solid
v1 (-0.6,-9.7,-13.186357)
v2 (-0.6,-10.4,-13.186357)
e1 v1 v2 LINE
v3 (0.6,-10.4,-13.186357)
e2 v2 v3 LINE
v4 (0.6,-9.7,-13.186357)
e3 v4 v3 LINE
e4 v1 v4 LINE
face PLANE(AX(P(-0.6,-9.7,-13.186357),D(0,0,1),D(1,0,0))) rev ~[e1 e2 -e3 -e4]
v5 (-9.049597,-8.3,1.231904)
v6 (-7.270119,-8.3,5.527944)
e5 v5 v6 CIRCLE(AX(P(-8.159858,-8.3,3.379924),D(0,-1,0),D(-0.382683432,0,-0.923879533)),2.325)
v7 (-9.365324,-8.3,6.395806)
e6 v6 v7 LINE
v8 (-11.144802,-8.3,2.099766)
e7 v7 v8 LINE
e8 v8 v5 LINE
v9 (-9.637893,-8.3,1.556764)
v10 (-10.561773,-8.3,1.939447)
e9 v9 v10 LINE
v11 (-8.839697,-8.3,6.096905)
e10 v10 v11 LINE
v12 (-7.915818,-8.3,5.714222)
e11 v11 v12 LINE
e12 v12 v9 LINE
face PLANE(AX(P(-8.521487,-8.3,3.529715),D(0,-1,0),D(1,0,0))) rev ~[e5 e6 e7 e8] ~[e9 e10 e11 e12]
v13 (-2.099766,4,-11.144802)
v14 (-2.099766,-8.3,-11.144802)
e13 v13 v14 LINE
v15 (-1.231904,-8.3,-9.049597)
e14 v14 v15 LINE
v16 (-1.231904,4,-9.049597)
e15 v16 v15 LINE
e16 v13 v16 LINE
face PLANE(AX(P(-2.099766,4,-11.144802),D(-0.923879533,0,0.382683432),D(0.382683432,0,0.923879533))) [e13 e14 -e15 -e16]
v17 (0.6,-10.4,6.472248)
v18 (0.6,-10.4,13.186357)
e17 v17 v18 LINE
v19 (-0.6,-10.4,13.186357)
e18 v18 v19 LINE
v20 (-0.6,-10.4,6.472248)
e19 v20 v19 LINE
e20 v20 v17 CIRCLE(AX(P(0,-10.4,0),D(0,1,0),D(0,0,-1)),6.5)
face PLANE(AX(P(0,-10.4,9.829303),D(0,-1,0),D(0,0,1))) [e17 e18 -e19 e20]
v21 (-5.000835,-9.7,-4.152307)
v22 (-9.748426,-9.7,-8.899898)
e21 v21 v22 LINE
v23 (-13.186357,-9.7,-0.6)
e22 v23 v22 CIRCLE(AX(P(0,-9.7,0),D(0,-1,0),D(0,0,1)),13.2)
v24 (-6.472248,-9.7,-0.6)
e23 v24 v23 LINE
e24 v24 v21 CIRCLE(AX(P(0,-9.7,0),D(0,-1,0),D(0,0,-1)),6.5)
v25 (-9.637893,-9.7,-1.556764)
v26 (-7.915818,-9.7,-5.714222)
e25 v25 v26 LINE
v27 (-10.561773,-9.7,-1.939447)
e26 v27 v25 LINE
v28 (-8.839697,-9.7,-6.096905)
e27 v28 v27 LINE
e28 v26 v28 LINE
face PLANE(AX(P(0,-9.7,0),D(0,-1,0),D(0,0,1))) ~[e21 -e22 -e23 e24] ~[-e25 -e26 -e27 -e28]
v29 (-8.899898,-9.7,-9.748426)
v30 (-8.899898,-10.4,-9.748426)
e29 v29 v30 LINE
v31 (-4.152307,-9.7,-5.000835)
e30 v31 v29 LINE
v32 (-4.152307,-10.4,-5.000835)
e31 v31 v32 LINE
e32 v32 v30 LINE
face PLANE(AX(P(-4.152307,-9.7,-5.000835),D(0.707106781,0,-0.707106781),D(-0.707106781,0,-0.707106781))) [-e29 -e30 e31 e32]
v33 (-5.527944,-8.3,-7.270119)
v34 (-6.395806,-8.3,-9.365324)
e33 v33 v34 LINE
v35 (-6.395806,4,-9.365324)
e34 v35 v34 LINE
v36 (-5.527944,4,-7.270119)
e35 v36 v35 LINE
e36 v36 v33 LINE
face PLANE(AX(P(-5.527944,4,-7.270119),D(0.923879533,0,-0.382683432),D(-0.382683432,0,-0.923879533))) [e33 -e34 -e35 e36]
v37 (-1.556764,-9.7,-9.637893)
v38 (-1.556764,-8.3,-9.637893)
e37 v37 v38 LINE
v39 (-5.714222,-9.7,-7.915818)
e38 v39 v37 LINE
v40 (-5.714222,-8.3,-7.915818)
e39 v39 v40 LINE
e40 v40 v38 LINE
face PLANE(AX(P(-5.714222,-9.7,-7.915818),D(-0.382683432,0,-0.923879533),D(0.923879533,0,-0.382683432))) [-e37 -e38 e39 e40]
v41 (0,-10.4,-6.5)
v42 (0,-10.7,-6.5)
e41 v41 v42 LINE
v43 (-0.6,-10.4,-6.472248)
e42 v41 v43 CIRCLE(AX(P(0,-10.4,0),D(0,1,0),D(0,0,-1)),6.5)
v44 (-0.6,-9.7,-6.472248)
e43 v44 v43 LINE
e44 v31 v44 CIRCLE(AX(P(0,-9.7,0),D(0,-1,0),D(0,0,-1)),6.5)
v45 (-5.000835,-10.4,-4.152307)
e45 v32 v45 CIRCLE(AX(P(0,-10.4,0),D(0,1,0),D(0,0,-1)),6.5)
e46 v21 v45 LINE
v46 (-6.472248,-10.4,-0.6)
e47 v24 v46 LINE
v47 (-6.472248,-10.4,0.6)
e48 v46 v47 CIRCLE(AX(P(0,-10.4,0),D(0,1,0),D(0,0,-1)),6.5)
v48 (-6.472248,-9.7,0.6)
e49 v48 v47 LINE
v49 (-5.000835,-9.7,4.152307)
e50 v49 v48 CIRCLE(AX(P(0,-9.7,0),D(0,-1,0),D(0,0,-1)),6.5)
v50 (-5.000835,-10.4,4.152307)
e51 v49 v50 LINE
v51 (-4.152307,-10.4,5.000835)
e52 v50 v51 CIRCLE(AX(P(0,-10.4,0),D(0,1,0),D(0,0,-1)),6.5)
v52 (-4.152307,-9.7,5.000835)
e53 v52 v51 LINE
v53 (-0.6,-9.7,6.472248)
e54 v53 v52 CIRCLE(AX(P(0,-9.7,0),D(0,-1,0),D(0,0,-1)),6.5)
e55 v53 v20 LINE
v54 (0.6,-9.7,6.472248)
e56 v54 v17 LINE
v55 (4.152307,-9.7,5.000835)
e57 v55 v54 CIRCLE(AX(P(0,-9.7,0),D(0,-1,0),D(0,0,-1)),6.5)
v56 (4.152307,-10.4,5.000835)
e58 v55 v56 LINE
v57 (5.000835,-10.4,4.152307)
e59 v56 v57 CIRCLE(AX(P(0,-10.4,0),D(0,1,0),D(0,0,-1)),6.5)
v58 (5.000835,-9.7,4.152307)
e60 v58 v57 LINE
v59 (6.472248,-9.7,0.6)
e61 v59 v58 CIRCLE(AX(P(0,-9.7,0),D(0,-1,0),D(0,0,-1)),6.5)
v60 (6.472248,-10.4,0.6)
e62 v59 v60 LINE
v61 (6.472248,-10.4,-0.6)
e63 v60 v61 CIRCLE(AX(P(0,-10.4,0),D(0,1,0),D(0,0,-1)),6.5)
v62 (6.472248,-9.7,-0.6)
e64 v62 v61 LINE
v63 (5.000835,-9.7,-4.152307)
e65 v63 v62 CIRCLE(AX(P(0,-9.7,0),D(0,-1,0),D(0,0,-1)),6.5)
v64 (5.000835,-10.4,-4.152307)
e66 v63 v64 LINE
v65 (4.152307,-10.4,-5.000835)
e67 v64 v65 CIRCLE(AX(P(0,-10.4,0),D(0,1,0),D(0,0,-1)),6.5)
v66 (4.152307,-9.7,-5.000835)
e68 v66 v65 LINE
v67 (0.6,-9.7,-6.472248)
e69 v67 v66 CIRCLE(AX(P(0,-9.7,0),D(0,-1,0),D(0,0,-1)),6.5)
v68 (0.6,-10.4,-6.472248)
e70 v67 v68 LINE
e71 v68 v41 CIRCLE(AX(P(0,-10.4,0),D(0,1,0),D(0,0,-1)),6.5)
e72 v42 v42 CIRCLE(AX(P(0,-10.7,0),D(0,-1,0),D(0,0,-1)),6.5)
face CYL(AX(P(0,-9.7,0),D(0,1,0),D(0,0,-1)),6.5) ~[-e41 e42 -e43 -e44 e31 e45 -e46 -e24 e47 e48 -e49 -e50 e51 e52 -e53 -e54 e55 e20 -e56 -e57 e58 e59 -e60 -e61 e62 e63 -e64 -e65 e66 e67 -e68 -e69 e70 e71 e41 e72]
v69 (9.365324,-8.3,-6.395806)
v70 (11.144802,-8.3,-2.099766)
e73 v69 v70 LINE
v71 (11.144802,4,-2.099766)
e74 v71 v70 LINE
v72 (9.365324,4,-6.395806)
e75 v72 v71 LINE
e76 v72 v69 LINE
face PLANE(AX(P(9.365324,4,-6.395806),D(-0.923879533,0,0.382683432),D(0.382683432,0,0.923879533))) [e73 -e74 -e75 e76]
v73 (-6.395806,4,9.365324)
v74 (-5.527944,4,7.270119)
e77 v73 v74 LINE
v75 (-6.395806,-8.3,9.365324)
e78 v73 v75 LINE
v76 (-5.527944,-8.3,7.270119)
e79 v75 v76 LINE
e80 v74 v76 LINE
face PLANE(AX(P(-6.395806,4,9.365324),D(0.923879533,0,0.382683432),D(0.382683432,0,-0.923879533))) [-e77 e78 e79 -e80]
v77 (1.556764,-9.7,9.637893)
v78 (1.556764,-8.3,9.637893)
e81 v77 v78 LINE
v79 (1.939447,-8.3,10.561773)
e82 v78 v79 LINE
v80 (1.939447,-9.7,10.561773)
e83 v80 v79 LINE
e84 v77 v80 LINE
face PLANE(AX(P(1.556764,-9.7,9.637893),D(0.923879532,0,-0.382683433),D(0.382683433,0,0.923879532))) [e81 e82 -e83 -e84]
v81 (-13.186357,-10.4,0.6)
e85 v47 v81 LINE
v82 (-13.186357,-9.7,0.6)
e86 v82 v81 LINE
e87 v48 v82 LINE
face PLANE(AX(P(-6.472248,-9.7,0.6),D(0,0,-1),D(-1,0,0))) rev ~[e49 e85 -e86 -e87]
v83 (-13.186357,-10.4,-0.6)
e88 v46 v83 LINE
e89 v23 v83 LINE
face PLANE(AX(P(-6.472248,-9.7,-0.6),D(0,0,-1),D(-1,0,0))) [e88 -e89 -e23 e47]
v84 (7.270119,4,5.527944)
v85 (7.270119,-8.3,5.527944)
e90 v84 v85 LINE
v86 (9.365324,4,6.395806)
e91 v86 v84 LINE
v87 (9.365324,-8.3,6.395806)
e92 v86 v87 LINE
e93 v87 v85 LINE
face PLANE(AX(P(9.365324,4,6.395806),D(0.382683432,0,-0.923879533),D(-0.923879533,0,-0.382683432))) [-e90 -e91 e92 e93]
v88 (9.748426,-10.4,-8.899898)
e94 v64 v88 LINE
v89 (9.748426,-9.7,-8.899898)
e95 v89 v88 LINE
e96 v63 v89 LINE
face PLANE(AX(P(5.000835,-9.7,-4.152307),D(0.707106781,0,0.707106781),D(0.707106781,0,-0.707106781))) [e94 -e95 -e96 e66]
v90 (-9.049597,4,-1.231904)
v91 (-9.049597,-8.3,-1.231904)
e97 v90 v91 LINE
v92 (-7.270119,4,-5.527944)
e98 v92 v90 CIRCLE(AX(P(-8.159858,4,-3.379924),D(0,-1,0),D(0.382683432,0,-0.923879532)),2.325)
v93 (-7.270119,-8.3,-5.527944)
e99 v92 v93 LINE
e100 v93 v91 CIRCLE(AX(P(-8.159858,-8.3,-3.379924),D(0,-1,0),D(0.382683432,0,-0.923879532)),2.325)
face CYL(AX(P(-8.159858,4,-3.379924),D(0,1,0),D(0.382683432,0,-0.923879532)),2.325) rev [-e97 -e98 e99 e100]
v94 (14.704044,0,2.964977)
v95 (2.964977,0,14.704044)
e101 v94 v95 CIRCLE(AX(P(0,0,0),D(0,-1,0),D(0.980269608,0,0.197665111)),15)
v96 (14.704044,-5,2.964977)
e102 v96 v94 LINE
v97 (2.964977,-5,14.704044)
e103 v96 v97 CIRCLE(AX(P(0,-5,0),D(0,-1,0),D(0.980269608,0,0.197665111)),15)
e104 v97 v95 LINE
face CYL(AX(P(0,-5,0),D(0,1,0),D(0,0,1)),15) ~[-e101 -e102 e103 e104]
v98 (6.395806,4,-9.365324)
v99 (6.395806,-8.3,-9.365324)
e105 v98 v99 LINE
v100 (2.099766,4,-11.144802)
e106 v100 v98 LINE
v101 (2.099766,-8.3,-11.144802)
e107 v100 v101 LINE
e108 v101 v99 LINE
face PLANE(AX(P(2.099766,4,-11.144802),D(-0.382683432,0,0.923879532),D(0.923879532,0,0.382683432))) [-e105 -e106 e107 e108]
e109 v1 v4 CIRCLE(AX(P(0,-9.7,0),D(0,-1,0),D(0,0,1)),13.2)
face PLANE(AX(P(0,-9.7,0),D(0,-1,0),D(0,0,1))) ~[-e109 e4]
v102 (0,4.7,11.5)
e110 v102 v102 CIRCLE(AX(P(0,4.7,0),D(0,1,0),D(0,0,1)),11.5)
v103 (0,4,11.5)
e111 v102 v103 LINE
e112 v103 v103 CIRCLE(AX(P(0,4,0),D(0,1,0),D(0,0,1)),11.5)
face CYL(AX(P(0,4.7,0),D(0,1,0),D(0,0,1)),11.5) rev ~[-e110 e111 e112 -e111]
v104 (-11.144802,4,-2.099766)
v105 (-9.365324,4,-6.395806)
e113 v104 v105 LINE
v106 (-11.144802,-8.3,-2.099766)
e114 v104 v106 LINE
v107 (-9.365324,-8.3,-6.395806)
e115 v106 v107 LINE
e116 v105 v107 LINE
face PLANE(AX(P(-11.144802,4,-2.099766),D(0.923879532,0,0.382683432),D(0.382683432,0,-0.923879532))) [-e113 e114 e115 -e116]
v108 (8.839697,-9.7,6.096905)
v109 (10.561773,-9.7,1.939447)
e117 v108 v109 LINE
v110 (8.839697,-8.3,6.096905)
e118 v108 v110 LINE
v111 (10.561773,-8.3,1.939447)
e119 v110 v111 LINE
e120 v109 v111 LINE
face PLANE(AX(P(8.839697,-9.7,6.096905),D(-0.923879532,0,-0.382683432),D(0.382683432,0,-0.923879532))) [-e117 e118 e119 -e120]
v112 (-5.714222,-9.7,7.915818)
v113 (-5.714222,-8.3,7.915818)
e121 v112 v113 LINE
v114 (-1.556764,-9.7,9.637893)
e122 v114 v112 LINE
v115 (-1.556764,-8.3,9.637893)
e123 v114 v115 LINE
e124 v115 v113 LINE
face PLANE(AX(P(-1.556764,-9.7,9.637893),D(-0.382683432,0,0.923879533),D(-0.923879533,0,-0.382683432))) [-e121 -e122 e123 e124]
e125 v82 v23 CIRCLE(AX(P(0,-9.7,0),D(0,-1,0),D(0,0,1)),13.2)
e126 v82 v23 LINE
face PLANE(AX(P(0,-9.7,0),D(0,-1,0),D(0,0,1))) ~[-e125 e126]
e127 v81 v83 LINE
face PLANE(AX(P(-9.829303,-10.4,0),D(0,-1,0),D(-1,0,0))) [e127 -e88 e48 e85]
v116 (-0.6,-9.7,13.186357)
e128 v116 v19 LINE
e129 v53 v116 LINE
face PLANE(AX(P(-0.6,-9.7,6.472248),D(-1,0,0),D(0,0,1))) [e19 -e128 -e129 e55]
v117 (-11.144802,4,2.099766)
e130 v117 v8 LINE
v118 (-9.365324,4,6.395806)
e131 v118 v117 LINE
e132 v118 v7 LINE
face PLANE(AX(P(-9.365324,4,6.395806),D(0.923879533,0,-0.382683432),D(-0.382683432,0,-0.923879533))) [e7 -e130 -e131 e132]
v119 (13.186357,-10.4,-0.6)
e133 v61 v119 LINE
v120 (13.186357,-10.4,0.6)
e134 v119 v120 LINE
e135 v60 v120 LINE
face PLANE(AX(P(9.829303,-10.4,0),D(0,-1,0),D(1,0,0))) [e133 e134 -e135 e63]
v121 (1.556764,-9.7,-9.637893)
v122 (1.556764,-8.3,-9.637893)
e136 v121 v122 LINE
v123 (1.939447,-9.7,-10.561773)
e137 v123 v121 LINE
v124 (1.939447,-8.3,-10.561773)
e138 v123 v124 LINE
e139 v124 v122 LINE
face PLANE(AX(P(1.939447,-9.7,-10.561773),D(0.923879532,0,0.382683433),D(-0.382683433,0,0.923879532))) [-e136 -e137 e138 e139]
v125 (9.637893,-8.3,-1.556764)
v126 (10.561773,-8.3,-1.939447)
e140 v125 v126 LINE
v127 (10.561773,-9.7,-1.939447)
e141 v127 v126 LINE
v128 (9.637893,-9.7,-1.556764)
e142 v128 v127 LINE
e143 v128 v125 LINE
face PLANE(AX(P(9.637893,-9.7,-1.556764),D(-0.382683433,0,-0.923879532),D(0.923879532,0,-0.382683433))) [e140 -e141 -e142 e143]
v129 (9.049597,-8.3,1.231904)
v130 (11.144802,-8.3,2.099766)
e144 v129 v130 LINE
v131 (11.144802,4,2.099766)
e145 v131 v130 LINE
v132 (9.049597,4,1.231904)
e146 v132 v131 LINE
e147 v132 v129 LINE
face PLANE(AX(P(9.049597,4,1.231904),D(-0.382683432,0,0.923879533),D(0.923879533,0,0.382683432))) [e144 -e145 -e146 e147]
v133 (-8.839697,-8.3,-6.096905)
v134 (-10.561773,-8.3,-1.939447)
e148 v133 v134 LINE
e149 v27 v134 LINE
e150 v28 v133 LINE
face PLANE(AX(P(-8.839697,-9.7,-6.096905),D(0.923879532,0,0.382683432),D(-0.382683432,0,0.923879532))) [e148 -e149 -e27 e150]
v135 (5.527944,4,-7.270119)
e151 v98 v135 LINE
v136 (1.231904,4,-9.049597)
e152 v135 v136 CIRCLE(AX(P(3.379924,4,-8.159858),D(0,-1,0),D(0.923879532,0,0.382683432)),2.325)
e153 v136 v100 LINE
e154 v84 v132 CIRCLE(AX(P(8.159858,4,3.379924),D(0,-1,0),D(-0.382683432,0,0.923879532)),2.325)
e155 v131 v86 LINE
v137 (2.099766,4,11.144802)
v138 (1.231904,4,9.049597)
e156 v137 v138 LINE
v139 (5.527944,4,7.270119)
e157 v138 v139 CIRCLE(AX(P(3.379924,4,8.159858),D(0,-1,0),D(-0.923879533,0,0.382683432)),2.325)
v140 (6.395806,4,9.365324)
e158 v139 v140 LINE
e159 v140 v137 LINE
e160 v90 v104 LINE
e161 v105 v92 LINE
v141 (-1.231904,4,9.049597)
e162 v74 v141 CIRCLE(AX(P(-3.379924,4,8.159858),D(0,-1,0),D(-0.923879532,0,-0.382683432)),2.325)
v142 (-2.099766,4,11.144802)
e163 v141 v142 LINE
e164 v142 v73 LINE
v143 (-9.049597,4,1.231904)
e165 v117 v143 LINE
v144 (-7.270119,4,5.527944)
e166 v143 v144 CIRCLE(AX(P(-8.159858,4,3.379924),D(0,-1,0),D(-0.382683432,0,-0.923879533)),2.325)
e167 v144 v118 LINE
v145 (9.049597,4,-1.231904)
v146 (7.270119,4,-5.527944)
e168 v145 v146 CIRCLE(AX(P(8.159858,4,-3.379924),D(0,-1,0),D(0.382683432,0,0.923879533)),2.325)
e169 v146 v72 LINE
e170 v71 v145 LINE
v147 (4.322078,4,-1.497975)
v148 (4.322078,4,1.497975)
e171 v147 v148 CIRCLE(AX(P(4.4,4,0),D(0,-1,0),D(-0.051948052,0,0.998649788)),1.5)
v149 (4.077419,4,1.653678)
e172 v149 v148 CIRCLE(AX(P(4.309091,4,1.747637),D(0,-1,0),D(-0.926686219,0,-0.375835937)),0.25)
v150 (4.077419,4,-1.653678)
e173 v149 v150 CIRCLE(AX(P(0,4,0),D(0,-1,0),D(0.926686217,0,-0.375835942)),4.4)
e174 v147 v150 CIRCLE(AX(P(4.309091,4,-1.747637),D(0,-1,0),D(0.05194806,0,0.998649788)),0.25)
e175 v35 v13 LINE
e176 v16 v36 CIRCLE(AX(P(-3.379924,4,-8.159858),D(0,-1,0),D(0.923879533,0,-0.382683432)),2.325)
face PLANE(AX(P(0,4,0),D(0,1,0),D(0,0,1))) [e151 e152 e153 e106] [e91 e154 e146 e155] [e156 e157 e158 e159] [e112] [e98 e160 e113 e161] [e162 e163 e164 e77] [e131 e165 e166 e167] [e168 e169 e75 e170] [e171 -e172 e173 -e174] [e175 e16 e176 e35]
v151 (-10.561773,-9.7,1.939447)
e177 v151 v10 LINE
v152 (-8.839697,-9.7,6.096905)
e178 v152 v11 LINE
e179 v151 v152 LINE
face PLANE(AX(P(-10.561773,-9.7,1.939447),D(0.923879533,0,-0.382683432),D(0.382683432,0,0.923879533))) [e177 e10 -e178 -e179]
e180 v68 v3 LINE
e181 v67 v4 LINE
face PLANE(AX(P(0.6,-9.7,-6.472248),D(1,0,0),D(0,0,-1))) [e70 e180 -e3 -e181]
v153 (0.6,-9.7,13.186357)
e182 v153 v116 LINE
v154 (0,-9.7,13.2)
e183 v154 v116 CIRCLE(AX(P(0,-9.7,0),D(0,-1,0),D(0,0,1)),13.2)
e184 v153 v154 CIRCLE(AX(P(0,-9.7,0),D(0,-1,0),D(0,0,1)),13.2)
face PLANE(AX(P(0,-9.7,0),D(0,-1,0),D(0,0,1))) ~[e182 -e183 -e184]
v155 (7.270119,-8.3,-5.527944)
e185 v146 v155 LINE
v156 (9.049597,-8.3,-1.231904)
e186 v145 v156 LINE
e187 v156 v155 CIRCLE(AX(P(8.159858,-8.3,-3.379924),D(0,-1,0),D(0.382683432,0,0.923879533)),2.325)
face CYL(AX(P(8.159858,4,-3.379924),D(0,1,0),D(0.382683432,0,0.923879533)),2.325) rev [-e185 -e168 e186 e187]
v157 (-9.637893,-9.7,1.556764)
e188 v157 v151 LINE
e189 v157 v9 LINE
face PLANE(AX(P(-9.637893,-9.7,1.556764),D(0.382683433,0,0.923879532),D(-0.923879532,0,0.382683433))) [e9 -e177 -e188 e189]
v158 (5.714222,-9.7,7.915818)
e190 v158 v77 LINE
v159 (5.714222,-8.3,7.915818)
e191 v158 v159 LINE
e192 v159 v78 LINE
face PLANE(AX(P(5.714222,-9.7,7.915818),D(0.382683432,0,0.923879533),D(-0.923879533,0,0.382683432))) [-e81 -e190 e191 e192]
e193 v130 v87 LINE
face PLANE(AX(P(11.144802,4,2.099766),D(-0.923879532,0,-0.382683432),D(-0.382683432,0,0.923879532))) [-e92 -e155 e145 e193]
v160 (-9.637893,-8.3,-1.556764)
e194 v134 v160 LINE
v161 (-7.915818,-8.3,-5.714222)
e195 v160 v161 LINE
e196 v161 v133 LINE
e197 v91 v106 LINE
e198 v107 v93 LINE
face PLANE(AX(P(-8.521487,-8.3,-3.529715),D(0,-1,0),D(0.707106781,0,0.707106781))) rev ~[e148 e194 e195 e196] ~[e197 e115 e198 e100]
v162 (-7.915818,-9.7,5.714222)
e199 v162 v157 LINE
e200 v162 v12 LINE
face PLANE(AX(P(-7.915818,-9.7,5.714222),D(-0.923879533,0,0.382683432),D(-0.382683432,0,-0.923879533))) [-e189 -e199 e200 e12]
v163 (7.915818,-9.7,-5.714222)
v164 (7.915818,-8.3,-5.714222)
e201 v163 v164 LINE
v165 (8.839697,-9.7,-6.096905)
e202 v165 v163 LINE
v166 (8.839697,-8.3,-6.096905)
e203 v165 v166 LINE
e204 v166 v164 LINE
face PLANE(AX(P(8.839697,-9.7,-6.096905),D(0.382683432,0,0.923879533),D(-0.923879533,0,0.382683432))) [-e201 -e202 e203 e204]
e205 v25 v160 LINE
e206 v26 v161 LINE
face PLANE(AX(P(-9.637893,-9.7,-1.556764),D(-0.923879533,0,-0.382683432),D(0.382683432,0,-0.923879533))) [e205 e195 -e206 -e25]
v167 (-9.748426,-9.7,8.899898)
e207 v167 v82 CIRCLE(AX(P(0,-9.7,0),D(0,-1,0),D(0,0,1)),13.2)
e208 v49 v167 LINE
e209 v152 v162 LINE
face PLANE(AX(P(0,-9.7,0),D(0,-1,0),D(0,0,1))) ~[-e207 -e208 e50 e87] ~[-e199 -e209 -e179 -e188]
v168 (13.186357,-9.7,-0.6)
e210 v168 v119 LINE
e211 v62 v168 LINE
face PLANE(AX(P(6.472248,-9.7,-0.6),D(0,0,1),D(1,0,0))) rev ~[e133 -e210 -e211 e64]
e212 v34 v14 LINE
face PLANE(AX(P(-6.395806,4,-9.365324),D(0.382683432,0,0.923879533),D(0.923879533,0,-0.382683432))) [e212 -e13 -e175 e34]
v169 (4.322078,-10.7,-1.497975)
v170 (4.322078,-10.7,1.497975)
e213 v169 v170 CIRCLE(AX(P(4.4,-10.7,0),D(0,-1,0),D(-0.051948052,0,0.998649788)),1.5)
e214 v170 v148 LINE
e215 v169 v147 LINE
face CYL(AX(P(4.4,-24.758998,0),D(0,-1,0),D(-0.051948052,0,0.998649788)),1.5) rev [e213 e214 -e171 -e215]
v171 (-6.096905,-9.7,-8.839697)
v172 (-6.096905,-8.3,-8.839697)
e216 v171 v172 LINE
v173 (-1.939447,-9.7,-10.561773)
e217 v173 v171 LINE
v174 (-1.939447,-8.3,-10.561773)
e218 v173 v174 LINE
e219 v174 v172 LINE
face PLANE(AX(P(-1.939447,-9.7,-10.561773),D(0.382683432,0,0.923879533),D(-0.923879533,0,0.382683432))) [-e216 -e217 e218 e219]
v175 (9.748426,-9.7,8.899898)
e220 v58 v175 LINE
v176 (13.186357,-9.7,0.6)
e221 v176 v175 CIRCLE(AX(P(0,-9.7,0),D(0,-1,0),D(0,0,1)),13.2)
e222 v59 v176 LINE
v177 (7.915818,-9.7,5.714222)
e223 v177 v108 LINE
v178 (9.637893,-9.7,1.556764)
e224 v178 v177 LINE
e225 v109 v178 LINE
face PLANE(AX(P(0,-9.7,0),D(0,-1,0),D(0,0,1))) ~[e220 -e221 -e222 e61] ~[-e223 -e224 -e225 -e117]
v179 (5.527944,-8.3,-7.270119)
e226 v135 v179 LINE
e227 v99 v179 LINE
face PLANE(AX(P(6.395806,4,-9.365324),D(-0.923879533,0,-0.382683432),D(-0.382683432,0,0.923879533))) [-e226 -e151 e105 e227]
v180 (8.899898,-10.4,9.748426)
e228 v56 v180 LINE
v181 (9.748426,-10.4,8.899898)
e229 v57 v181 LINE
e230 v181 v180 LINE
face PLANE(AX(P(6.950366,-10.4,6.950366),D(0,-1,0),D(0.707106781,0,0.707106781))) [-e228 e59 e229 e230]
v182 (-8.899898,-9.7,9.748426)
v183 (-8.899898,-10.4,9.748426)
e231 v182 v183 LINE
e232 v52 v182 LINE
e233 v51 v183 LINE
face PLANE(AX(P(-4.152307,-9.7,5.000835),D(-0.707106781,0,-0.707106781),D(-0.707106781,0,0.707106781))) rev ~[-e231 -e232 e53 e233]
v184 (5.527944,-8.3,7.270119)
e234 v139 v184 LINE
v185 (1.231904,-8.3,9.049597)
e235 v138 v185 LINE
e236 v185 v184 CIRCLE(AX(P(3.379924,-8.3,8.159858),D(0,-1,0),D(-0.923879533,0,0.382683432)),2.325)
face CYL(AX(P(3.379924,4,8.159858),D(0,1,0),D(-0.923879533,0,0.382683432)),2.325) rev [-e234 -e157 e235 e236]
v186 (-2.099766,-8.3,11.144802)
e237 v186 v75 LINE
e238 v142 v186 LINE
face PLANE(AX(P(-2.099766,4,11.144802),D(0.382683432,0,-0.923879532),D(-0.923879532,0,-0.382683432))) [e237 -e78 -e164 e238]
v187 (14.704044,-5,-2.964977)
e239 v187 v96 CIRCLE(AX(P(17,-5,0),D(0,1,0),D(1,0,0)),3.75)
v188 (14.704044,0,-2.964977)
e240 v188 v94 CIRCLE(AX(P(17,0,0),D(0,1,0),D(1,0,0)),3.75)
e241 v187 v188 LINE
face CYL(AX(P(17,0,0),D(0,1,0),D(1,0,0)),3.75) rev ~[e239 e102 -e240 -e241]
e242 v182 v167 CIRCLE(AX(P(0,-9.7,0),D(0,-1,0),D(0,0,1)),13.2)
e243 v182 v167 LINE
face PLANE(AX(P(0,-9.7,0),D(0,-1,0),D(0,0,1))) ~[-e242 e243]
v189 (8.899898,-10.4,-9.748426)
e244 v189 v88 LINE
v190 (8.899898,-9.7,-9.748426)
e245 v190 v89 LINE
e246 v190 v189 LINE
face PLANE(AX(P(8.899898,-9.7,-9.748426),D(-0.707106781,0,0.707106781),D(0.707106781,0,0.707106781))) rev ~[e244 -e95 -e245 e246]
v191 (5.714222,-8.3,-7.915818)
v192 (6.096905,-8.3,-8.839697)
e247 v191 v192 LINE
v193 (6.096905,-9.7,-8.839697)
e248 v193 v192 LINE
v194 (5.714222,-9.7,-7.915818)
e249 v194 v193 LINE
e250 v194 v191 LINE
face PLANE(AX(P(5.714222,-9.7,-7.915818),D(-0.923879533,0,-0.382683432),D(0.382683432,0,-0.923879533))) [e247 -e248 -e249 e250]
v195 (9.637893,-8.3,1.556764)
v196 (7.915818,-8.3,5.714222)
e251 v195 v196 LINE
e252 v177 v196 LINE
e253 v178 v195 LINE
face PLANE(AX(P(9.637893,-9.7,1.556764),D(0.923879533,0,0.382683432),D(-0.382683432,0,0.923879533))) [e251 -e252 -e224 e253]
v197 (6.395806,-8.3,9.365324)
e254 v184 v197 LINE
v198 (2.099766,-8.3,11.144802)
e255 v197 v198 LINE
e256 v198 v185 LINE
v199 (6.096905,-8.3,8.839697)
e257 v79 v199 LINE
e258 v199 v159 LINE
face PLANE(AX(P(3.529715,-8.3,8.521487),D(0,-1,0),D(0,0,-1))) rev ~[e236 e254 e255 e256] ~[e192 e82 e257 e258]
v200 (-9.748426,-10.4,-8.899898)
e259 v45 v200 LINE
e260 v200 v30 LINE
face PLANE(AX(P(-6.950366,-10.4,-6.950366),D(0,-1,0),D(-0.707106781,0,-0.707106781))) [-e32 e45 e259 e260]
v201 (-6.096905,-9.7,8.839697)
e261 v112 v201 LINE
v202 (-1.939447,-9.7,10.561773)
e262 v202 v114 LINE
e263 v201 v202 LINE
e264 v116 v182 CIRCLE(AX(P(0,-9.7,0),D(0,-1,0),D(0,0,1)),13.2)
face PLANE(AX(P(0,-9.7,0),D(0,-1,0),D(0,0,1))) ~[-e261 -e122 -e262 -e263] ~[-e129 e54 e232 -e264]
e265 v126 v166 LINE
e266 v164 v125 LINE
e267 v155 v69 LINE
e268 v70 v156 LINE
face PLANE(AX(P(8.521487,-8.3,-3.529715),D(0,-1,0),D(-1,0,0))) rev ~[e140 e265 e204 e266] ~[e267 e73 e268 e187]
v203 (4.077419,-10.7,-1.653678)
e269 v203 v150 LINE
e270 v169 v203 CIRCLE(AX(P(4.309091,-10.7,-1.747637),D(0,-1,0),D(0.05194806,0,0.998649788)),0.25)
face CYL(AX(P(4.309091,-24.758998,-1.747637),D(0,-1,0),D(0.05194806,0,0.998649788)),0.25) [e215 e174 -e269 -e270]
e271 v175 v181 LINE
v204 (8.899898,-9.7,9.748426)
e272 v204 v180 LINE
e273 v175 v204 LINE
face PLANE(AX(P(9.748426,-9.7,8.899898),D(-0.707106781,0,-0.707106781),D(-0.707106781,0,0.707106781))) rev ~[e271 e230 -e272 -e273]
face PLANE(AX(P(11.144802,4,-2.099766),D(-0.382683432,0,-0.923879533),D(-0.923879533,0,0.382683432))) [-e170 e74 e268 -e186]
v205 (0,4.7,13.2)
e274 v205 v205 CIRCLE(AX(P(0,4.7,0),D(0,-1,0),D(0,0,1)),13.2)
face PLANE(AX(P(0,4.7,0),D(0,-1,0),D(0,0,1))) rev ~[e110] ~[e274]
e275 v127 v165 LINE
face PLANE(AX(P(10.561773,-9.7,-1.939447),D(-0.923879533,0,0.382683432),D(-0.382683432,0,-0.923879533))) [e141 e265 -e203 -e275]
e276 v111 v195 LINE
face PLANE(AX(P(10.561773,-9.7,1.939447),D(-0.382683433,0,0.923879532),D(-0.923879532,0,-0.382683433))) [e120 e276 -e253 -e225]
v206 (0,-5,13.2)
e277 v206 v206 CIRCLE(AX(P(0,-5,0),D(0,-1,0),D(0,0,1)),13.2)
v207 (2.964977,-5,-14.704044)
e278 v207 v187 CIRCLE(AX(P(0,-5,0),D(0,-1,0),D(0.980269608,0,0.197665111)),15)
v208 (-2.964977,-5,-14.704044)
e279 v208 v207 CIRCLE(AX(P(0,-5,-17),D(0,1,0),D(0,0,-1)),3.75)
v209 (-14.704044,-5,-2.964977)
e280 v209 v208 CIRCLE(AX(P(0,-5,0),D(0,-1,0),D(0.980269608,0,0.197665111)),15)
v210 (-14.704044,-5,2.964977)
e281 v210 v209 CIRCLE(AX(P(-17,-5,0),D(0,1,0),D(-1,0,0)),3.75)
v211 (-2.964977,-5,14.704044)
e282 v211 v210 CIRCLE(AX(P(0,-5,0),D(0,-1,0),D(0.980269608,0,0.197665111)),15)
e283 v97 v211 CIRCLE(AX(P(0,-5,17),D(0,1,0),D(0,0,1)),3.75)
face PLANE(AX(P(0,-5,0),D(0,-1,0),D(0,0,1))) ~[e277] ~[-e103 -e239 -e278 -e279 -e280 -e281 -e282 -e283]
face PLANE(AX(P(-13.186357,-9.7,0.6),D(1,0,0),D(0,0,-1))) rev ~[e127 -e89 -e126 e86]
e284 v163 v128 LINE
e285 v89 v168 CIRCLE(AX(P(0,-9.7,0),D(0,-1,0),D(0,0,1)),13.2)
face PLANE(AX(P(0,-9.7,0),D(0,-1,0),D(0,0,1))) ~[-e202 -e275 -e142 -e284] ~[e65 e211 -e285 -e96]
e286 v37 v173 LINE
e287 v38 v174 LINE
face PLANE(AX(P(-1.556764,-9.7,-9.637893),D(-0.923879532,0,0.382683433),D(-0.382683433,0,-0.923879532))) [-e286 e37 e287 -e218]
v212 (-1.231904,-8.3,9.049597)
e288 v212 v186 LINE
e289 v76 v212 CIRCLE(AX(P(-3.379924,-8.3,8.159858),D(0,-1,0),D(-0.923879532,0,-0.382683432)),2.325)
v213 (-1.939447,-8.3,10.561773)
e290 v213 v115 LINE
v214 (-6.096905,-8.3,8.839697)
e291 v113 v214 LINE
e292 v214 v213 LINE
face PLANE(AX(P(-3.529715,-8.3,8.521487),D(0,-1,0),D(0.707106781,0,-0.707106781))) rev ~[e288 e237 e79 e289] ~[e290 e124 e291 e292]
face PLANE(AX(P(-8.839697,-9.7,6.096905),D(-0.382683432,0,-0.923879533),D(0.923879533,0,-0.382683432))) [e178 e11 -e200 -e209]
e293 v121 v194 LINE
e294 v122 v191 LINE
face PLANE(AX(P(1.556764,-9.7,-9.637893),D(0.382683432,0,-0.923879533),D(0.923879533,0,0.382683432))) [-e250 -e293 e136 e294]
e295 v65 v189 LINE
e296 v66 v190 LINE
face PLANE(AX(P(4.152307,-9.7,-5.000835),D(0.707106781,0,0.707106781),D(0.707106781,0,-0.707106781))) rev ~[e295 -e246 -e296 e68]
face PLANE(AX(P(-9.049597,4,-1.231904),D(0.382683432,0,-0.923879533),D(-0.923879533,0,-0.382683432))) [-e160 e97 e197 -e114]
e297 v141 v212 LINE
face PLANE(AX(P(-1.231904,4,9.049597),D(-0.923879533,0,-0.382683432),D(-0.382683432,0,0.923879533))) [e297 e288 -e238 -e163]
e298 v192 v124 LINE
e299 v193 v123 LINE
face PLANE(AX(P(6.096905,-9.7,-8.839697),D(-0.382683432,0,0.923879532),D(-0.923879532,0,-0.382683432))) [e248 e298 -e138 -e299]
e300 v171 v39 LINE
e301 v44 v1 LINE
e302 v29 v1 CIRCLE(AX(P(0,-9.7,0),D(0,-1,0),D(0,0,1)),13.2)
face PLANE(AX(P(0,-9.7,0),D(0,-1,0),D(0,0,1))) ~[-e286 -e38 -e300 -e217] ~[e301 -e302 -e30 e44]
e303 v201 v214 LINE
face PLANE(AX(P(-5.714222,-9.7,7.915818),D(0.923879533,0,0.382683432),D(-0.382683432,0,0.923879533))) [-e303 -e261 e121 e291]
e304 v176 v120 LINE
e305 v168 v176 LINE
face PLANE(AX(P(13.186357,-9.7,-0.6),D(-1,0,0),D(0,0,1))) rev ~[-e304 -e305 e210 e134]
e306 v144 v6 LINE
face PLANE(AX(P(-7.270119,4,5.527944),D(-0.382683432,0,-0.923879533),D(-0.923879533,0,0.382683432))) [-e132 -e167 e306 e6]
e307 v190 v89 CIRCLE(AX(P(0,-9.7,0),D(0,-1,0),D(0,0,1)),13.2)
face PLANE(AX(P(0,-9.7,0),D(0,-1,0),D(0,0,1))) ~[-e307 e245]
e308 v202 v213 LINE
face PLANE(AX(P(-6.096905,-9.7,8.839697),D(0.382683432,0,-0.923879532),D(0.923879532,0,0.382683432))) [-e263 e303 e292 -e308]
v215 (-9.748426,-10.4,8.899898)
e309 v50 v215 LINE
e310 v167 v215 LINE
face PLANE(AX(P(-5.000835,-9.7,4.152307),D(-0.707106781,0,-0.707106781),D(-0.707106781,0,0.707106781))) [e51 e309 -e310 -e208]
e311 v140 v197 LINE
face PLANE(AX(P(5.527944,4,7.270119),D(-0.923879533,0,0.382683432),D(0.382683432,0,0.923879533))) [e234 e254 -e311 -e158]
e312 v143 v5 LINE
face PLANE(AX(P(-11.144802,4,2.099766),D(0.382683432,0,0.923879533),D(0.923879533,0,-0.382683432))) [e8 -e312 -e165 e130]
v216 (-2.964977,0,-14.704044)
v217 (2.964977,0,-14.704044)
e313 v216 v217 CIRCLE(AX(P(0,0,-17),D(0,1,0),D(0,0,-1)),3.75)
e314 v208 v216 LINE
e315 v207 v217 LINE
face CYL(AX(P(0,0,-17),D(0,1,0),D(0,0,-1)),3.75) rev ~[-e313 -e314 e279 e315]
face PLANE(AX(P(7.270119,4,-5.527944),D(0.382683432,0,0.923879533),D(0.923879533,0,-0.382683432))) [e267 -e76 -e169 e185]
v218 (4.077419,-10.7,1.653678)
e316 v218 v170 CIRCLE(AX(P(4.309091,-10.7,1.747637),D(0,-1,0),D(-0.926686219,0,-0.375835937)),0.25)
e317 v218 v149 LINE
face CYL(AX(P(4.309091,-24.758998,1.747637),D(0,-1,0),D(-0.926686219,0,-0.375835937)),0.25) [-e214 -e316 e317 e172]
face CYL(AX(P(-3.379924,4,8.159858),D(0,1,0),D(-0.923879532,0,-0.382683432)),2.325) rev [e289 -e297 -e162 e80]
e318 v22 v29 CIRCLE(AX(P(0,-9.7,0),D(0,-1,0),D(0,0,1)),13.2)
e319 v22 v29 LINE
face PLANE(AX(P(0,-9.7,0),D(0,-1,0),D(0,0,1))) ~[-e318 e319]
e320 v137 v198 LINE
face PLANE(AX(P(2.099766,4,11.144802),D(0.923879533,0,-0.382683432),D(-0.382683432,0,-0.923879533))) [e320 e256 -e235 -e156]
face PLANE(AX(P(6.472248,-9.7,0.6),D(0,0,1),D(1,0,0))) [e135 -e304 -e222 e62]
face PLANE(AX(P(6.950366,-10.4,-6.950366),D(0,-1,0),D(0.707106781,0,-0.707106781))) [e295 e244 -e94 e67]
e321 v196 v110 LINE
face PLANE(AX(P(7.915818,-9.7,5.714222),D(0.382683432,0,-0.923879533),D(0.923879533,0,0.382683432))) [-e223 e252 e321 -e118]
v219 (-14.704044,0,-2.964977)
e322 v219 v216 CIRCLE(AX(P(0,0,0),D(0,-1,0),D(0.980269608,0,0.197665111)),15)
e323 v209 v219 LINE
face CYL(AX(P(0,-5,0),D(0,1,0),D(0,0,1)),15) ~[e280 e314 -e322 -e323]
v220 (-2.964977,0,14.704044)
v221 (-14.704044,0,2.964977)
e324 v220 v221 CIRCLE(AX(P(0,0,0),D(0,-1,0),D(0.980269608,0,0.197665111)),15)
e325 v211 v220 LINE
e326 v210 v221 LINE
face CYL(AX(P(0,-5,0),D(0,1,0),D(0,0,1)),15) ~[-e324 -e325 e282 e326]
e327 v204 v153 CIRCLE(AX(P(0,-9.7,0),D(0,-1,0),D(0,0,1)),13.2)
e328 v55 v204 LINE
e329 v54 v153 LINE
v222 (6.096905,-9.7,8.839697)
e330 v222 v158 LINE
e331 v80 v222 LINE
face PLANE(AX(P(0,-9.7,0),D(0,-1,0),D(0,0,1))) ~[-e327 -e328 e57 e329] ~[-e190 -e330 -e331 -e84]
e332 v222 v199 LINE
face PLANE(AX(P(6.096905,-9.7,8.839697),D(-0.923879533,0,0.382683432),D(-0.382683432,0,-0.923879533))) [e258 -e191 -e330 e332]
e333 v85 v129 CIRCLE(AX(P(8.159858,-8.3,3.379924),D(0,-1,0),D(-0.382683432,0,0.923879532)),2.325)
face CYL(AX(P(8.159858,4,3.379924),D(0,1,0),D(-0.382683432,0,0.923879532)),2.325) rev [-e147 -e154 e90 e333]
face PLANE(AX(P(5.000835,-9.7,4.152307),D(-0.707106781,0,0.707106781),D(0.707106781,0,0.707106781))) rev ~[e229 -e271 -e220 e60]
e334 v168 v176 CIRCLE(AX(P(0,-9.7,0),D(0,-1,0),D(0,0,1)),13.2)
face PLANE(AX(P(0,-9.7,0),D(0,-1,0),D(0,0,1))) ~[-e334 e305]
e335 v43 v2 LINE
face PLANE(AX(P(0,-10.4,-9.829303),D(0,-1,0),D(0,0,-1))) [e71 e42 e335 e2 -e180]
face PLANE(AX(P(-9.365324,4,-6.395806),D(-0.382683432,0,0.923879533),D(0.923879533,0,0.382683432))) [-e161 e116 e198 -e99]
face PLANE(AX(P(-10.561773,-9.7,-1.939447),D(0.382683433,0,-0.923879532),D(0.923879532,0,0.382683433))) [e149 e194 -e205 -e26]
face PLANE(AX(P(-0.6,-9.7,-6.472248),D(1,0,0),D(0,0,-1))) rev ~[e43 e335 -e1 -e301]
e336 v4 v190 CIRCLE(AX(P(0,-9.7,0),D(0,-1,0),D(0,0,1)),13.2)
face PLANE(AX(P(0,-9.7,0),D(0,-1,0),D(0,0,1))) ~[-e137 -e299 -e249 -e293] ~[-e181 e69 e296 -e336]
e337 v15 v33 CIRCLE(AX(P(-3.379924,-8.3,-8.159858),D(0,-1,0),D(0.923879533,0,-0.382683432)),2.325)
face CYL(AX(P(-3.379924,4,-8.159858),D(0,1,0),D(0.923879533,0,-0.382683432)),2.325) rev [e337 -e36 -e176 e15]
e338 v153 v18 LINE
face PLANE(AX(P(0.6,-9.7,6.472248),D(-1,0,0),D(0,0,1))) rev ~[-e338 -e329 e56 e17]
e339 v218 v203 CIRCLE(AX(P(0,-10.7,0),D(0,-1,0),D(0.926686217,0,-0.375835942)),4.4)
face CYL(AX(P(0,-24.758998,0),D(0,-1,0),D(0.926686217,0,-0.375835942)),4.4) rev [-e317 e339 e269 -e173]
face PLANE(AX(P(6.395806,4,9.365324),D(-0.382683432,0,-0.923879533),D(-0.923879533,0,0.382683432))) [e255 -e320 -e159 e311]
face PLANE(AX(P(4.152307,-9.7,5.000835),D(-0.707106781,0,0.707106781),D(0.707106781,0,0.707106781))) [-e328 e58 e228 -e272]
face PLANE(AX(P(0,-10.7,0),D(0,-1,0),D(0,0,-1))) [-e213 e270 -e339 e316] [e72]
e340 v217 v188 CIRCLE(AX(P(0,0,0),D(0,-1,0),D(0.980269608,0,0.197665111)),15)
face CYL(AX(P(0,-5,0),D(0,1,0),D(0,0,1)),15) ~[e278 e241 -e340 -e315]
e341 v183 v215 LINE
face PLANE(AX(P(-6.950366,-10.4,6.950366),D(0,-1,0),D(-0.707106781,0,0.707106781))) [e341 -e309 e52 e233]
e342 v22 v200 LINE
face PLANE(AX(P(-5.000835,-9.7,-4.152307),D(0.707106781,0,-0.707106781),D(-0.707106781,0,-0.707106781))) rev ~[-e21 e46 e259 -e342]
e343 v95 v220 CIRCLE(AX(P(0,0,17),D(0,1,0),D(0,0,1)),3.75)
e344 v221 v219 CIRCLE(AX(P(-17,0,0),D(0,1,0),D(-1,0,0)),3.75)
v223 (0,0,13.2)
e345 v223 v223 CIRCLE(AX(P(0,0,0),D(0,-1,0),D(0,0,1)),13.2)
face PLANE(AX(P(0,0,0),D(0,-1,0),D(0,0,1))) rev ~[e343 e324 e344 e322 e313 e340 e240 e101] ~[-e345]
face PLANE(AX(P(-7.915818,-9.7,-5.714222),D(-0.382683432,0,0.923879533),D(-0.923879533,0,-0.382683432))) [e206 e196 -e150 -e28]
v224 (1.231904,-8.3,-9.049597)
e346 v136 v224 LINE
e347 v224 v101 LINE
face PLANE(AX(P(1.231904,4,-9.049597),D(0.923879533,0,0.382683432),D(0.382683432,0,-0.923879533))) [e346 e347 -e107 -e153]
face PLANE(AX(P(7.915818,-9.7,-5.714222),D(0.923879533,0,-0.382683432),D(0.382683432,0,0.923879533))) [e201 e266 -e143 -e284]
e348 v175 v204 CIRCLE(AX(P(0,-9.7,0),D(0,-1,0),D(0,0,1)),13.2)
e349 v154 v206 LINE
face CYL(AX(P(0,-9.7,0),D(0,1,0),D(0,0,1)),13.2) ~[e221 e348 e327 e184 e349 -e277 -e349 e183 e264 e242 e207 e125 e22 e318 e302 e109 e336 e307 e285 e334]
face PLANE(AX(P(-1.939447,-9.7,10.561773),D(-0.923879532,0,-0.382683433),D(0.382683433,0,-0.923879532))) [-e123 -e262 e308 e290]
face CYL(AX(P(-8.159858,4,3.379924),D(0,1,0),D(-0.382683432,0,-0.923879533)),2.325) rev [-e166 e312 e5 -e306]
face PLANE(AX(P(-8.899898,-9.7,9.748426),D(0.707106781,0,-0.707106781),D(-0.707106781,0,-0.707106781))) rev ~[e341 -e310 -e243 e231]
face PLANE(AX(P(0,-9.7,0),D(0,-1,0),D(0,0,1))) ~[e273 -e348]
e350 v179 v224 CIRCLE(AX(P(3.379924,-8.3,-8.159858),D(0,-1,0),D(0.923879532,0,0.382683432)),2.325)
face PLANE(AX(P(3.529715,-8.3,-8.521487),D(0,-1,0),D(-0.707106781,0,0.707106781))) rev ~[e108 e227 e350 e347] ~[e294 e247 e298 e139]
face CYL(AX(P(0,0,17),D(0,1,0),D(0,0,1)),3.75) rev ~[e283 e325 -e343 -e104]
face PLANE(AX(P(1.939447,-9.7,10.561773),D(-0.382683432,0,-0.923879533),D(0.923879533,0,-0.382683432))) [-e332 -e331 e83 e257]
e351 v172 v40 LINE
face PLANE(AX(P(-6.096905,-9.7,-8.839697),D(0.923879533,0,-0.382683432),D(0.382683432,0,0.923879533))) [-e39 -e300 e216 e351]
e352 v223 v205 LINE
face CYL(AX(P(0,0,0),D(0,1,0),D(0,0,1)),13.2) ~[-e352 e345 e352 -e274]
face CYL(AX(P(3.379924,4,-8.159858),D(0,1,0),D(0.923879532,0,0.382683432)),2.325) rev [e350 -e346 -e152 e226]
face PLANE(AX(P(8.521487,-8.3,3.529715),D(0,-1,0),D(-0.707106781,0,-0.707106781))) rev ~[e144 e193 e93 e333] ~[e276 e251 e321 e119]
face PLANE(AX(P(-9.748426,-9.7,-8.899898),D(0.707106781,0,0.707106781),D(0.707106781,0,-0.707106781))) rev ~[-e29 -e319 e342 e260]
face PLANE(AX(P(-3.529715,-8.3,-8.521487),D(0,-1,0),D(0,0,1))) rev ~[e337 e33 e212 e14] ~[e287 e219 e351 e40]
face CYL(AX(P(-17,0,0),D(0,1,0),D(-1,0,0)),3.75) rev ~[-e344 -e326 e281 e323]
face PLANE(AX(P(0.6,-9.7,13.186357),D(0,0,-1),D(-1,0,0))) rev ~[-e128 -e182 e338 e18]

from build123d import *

# Parameters (mm, degrees)
SKETCH2_R           = 11.5
EXTRUDE1_DEPTH      = 0.7
SKETCH4_R           = 6.5
EXTRUDE3_DEPTH      = 1
SKETCH5_W           = 6.714108136
SKETCH5_H           = 1.2
EXTRUDE4_DEPTH      = 0.7
EXTRUDE2_DEPTH      = 24.758998295
EXTRUDE2_DEPTH_BACK = 24.758998295
CIRPATTERN1_COUNT   = 8
EXTRUDE5_DEPTH      = 12.3
EXTRUDE6_DEPTH      = 26.639032743
CIRPATTERN2_COUNT   = 8
SKETCH10_R          = 3.75
EXTRUDE7_DEPTH      = 12.3
CIRPATTERN3_COUNT   = 4


with BuildPart() as part:
    # Sketch1 → Revolve1 (revolve)
    with BuildSketch(Plane.XY):
        Polygon((-13.2, 0), (-13.2, 4.7), (0, 4.7), (0, -9.7), (-13.2, -9.7), (-13.2, -5), (-15, -5), (-15, 0), align=None)
    revolve(axis=Axis((0, 20.644864938, 0), (0, -1, 0)))

    # Sketch2 → Extrude1 (cut)
    with BuildSketch(Plane(origin=(0, 4.7, 0), x_dir=(1, 0, 0), z_dir=(0, 1, 0))):
        Circle(SKETCH2_R)
    extrude(amount=-EXTRUDE1_DEPTH, mode=Mode.SUBTRACT)

    # Sketch4 → Extrude3 (add)
    with BuildSketch(Plane.XZ.offset(9.7)):
        Circle(SKETCH4_R)
    extrude(amount=EXTRUDE3_DEPTH)

    # Sketch5 → Extrude4 (add)
    with BuildSketch(Plane.XZ.offset(9.7)):
        with Locations((9.829302518, 0)):
            Rectangle(SKETCH5_W, SKETCH5_H)
    extrude4 = extrude(amount=EXTRUDE4_DEPTH)

    # Sketch3 → Extrude2 (cut, two sides: drawn at the far end of the back side and taken through both)
    with BuildSketch(Plane(origin=(0, 0, 0), x_dir=(1, 0, 0), z_dir=(0, 1, 0)).offset(-EXTRUDE2_DEPTH_BACK)):
        with BuildLine():
            ThreePointArc((4.077419355, 1.653678144), (-4.4, 0), (4.077419355, -1.653678144))
            ThreePointArc((4.077419355, -1.653678144), (4.17486489, -1.536726305), (4.322077922, -1.497974683))
            ThreePointArc((4.322077922, -1.497974683), (5.9, 0), (4.322077922, 1.497974683))
            ThreePointArc((4.322077922, 1.497974683), (4.17486489, 1.536726305), (4.077419355, 1.653678144))
        make_face()
    extrude(amount=EXTRUDE2_DEPTH + EXTRUDE2_DEPTH_BACK, mode=Mode.SUBTRACT)

    # CirPattern1: Extrude4 ×8 about axis
    cirpattern1_axis = Axis((0, 55, 0), (0, -1, 0))
    for i in range(1, CIRPATTERN1_COUNT):
        add(extrude4.rotate(cirpattern1_axis, i * 360 / CIRPATTERN1_COUNT))

    # Sketch7 → Extrude5 (cut)
    with BuildSketch(Plane(origin=(0, 4, 0), x_dir=(1, 0, 0), z_dir=(0, 1, 0))):
        with BuildLine():
            Line((9.365323831, 6.395806012), (11.144801791, 2.099766186))
            Line((11.144801791, 2.099766186), (9.04959703, 1.231903958))
            ThreePointArc((9.04959703, 1.231903958), (6.011838137, 2.490184891), (7.27011907, 5.527943784))
            Line((7.27011907, 5.527943784), (9.365323831, 6.395806012))
        make_face()
    extrude5 = extrude(amount=-EXTRUDE5_DEPTH, mode=Mode.SUBTRACT)

    # Sketch9 → Extrude6 (cut, through all)
    with BuildSketch(Plane.XZ.offset(9.7)):
        Polygon((10.561772814, -1.939447092), (8.839697369, -6.096904988), (7.915817836, -5.714221556), (9.637893282, -1.556763659), align=None)
    extrude6 = extrude(amount=-EXTRUDE6_DEPTH, mode=Mode.SUBTRACT)

    # CirPattern2: Extrude5, Extrude6 ×8 about axis
    cirpattern2_axis = Axis((0, 55, 0), (0, -1, 0))
    add([extrude5.rotate(cirpattern2_axis, i * 360 / CIRPATTERN2_COUNT) for i in range(1, CIRPATTERN2_COUNT)], mode=Mode.SUBTRACT)
    add([extrude6.rotate(cirpattern2_axis, i * 360 / CIRPATTERN2_COUNT) for i in range(1, CIRPATTERN2_COUNT)], mode=Mode.SUBTRACT)

    # Sketch10 → Extrude7 (cut)
    with BuildSketch(Plane(origin=(0, 0, 0), x_dir=(1, 0, 0), z_dir=(0, 1, 0))):
        with Locations((17, 0)):
            Circle(SKETCH10_R)
    extrude7 = extrude(amount=-EXTRUDE7_DEPTH, mode=Mode.SUBTRACT)

    # CirPattern3: Extrude7 ×4 about axis
    cirpattern3_axis = Axis((0, 55, 0), (0, -1, 0))
    for i in range(1, CIRPATTERN3_COUNT):
        add(extrude7.rotate(cirpattern3_axis, i * 360 / CIRPATTERN3_COUNT), mode=Mode.SUBTRACT)


solid = part.part
